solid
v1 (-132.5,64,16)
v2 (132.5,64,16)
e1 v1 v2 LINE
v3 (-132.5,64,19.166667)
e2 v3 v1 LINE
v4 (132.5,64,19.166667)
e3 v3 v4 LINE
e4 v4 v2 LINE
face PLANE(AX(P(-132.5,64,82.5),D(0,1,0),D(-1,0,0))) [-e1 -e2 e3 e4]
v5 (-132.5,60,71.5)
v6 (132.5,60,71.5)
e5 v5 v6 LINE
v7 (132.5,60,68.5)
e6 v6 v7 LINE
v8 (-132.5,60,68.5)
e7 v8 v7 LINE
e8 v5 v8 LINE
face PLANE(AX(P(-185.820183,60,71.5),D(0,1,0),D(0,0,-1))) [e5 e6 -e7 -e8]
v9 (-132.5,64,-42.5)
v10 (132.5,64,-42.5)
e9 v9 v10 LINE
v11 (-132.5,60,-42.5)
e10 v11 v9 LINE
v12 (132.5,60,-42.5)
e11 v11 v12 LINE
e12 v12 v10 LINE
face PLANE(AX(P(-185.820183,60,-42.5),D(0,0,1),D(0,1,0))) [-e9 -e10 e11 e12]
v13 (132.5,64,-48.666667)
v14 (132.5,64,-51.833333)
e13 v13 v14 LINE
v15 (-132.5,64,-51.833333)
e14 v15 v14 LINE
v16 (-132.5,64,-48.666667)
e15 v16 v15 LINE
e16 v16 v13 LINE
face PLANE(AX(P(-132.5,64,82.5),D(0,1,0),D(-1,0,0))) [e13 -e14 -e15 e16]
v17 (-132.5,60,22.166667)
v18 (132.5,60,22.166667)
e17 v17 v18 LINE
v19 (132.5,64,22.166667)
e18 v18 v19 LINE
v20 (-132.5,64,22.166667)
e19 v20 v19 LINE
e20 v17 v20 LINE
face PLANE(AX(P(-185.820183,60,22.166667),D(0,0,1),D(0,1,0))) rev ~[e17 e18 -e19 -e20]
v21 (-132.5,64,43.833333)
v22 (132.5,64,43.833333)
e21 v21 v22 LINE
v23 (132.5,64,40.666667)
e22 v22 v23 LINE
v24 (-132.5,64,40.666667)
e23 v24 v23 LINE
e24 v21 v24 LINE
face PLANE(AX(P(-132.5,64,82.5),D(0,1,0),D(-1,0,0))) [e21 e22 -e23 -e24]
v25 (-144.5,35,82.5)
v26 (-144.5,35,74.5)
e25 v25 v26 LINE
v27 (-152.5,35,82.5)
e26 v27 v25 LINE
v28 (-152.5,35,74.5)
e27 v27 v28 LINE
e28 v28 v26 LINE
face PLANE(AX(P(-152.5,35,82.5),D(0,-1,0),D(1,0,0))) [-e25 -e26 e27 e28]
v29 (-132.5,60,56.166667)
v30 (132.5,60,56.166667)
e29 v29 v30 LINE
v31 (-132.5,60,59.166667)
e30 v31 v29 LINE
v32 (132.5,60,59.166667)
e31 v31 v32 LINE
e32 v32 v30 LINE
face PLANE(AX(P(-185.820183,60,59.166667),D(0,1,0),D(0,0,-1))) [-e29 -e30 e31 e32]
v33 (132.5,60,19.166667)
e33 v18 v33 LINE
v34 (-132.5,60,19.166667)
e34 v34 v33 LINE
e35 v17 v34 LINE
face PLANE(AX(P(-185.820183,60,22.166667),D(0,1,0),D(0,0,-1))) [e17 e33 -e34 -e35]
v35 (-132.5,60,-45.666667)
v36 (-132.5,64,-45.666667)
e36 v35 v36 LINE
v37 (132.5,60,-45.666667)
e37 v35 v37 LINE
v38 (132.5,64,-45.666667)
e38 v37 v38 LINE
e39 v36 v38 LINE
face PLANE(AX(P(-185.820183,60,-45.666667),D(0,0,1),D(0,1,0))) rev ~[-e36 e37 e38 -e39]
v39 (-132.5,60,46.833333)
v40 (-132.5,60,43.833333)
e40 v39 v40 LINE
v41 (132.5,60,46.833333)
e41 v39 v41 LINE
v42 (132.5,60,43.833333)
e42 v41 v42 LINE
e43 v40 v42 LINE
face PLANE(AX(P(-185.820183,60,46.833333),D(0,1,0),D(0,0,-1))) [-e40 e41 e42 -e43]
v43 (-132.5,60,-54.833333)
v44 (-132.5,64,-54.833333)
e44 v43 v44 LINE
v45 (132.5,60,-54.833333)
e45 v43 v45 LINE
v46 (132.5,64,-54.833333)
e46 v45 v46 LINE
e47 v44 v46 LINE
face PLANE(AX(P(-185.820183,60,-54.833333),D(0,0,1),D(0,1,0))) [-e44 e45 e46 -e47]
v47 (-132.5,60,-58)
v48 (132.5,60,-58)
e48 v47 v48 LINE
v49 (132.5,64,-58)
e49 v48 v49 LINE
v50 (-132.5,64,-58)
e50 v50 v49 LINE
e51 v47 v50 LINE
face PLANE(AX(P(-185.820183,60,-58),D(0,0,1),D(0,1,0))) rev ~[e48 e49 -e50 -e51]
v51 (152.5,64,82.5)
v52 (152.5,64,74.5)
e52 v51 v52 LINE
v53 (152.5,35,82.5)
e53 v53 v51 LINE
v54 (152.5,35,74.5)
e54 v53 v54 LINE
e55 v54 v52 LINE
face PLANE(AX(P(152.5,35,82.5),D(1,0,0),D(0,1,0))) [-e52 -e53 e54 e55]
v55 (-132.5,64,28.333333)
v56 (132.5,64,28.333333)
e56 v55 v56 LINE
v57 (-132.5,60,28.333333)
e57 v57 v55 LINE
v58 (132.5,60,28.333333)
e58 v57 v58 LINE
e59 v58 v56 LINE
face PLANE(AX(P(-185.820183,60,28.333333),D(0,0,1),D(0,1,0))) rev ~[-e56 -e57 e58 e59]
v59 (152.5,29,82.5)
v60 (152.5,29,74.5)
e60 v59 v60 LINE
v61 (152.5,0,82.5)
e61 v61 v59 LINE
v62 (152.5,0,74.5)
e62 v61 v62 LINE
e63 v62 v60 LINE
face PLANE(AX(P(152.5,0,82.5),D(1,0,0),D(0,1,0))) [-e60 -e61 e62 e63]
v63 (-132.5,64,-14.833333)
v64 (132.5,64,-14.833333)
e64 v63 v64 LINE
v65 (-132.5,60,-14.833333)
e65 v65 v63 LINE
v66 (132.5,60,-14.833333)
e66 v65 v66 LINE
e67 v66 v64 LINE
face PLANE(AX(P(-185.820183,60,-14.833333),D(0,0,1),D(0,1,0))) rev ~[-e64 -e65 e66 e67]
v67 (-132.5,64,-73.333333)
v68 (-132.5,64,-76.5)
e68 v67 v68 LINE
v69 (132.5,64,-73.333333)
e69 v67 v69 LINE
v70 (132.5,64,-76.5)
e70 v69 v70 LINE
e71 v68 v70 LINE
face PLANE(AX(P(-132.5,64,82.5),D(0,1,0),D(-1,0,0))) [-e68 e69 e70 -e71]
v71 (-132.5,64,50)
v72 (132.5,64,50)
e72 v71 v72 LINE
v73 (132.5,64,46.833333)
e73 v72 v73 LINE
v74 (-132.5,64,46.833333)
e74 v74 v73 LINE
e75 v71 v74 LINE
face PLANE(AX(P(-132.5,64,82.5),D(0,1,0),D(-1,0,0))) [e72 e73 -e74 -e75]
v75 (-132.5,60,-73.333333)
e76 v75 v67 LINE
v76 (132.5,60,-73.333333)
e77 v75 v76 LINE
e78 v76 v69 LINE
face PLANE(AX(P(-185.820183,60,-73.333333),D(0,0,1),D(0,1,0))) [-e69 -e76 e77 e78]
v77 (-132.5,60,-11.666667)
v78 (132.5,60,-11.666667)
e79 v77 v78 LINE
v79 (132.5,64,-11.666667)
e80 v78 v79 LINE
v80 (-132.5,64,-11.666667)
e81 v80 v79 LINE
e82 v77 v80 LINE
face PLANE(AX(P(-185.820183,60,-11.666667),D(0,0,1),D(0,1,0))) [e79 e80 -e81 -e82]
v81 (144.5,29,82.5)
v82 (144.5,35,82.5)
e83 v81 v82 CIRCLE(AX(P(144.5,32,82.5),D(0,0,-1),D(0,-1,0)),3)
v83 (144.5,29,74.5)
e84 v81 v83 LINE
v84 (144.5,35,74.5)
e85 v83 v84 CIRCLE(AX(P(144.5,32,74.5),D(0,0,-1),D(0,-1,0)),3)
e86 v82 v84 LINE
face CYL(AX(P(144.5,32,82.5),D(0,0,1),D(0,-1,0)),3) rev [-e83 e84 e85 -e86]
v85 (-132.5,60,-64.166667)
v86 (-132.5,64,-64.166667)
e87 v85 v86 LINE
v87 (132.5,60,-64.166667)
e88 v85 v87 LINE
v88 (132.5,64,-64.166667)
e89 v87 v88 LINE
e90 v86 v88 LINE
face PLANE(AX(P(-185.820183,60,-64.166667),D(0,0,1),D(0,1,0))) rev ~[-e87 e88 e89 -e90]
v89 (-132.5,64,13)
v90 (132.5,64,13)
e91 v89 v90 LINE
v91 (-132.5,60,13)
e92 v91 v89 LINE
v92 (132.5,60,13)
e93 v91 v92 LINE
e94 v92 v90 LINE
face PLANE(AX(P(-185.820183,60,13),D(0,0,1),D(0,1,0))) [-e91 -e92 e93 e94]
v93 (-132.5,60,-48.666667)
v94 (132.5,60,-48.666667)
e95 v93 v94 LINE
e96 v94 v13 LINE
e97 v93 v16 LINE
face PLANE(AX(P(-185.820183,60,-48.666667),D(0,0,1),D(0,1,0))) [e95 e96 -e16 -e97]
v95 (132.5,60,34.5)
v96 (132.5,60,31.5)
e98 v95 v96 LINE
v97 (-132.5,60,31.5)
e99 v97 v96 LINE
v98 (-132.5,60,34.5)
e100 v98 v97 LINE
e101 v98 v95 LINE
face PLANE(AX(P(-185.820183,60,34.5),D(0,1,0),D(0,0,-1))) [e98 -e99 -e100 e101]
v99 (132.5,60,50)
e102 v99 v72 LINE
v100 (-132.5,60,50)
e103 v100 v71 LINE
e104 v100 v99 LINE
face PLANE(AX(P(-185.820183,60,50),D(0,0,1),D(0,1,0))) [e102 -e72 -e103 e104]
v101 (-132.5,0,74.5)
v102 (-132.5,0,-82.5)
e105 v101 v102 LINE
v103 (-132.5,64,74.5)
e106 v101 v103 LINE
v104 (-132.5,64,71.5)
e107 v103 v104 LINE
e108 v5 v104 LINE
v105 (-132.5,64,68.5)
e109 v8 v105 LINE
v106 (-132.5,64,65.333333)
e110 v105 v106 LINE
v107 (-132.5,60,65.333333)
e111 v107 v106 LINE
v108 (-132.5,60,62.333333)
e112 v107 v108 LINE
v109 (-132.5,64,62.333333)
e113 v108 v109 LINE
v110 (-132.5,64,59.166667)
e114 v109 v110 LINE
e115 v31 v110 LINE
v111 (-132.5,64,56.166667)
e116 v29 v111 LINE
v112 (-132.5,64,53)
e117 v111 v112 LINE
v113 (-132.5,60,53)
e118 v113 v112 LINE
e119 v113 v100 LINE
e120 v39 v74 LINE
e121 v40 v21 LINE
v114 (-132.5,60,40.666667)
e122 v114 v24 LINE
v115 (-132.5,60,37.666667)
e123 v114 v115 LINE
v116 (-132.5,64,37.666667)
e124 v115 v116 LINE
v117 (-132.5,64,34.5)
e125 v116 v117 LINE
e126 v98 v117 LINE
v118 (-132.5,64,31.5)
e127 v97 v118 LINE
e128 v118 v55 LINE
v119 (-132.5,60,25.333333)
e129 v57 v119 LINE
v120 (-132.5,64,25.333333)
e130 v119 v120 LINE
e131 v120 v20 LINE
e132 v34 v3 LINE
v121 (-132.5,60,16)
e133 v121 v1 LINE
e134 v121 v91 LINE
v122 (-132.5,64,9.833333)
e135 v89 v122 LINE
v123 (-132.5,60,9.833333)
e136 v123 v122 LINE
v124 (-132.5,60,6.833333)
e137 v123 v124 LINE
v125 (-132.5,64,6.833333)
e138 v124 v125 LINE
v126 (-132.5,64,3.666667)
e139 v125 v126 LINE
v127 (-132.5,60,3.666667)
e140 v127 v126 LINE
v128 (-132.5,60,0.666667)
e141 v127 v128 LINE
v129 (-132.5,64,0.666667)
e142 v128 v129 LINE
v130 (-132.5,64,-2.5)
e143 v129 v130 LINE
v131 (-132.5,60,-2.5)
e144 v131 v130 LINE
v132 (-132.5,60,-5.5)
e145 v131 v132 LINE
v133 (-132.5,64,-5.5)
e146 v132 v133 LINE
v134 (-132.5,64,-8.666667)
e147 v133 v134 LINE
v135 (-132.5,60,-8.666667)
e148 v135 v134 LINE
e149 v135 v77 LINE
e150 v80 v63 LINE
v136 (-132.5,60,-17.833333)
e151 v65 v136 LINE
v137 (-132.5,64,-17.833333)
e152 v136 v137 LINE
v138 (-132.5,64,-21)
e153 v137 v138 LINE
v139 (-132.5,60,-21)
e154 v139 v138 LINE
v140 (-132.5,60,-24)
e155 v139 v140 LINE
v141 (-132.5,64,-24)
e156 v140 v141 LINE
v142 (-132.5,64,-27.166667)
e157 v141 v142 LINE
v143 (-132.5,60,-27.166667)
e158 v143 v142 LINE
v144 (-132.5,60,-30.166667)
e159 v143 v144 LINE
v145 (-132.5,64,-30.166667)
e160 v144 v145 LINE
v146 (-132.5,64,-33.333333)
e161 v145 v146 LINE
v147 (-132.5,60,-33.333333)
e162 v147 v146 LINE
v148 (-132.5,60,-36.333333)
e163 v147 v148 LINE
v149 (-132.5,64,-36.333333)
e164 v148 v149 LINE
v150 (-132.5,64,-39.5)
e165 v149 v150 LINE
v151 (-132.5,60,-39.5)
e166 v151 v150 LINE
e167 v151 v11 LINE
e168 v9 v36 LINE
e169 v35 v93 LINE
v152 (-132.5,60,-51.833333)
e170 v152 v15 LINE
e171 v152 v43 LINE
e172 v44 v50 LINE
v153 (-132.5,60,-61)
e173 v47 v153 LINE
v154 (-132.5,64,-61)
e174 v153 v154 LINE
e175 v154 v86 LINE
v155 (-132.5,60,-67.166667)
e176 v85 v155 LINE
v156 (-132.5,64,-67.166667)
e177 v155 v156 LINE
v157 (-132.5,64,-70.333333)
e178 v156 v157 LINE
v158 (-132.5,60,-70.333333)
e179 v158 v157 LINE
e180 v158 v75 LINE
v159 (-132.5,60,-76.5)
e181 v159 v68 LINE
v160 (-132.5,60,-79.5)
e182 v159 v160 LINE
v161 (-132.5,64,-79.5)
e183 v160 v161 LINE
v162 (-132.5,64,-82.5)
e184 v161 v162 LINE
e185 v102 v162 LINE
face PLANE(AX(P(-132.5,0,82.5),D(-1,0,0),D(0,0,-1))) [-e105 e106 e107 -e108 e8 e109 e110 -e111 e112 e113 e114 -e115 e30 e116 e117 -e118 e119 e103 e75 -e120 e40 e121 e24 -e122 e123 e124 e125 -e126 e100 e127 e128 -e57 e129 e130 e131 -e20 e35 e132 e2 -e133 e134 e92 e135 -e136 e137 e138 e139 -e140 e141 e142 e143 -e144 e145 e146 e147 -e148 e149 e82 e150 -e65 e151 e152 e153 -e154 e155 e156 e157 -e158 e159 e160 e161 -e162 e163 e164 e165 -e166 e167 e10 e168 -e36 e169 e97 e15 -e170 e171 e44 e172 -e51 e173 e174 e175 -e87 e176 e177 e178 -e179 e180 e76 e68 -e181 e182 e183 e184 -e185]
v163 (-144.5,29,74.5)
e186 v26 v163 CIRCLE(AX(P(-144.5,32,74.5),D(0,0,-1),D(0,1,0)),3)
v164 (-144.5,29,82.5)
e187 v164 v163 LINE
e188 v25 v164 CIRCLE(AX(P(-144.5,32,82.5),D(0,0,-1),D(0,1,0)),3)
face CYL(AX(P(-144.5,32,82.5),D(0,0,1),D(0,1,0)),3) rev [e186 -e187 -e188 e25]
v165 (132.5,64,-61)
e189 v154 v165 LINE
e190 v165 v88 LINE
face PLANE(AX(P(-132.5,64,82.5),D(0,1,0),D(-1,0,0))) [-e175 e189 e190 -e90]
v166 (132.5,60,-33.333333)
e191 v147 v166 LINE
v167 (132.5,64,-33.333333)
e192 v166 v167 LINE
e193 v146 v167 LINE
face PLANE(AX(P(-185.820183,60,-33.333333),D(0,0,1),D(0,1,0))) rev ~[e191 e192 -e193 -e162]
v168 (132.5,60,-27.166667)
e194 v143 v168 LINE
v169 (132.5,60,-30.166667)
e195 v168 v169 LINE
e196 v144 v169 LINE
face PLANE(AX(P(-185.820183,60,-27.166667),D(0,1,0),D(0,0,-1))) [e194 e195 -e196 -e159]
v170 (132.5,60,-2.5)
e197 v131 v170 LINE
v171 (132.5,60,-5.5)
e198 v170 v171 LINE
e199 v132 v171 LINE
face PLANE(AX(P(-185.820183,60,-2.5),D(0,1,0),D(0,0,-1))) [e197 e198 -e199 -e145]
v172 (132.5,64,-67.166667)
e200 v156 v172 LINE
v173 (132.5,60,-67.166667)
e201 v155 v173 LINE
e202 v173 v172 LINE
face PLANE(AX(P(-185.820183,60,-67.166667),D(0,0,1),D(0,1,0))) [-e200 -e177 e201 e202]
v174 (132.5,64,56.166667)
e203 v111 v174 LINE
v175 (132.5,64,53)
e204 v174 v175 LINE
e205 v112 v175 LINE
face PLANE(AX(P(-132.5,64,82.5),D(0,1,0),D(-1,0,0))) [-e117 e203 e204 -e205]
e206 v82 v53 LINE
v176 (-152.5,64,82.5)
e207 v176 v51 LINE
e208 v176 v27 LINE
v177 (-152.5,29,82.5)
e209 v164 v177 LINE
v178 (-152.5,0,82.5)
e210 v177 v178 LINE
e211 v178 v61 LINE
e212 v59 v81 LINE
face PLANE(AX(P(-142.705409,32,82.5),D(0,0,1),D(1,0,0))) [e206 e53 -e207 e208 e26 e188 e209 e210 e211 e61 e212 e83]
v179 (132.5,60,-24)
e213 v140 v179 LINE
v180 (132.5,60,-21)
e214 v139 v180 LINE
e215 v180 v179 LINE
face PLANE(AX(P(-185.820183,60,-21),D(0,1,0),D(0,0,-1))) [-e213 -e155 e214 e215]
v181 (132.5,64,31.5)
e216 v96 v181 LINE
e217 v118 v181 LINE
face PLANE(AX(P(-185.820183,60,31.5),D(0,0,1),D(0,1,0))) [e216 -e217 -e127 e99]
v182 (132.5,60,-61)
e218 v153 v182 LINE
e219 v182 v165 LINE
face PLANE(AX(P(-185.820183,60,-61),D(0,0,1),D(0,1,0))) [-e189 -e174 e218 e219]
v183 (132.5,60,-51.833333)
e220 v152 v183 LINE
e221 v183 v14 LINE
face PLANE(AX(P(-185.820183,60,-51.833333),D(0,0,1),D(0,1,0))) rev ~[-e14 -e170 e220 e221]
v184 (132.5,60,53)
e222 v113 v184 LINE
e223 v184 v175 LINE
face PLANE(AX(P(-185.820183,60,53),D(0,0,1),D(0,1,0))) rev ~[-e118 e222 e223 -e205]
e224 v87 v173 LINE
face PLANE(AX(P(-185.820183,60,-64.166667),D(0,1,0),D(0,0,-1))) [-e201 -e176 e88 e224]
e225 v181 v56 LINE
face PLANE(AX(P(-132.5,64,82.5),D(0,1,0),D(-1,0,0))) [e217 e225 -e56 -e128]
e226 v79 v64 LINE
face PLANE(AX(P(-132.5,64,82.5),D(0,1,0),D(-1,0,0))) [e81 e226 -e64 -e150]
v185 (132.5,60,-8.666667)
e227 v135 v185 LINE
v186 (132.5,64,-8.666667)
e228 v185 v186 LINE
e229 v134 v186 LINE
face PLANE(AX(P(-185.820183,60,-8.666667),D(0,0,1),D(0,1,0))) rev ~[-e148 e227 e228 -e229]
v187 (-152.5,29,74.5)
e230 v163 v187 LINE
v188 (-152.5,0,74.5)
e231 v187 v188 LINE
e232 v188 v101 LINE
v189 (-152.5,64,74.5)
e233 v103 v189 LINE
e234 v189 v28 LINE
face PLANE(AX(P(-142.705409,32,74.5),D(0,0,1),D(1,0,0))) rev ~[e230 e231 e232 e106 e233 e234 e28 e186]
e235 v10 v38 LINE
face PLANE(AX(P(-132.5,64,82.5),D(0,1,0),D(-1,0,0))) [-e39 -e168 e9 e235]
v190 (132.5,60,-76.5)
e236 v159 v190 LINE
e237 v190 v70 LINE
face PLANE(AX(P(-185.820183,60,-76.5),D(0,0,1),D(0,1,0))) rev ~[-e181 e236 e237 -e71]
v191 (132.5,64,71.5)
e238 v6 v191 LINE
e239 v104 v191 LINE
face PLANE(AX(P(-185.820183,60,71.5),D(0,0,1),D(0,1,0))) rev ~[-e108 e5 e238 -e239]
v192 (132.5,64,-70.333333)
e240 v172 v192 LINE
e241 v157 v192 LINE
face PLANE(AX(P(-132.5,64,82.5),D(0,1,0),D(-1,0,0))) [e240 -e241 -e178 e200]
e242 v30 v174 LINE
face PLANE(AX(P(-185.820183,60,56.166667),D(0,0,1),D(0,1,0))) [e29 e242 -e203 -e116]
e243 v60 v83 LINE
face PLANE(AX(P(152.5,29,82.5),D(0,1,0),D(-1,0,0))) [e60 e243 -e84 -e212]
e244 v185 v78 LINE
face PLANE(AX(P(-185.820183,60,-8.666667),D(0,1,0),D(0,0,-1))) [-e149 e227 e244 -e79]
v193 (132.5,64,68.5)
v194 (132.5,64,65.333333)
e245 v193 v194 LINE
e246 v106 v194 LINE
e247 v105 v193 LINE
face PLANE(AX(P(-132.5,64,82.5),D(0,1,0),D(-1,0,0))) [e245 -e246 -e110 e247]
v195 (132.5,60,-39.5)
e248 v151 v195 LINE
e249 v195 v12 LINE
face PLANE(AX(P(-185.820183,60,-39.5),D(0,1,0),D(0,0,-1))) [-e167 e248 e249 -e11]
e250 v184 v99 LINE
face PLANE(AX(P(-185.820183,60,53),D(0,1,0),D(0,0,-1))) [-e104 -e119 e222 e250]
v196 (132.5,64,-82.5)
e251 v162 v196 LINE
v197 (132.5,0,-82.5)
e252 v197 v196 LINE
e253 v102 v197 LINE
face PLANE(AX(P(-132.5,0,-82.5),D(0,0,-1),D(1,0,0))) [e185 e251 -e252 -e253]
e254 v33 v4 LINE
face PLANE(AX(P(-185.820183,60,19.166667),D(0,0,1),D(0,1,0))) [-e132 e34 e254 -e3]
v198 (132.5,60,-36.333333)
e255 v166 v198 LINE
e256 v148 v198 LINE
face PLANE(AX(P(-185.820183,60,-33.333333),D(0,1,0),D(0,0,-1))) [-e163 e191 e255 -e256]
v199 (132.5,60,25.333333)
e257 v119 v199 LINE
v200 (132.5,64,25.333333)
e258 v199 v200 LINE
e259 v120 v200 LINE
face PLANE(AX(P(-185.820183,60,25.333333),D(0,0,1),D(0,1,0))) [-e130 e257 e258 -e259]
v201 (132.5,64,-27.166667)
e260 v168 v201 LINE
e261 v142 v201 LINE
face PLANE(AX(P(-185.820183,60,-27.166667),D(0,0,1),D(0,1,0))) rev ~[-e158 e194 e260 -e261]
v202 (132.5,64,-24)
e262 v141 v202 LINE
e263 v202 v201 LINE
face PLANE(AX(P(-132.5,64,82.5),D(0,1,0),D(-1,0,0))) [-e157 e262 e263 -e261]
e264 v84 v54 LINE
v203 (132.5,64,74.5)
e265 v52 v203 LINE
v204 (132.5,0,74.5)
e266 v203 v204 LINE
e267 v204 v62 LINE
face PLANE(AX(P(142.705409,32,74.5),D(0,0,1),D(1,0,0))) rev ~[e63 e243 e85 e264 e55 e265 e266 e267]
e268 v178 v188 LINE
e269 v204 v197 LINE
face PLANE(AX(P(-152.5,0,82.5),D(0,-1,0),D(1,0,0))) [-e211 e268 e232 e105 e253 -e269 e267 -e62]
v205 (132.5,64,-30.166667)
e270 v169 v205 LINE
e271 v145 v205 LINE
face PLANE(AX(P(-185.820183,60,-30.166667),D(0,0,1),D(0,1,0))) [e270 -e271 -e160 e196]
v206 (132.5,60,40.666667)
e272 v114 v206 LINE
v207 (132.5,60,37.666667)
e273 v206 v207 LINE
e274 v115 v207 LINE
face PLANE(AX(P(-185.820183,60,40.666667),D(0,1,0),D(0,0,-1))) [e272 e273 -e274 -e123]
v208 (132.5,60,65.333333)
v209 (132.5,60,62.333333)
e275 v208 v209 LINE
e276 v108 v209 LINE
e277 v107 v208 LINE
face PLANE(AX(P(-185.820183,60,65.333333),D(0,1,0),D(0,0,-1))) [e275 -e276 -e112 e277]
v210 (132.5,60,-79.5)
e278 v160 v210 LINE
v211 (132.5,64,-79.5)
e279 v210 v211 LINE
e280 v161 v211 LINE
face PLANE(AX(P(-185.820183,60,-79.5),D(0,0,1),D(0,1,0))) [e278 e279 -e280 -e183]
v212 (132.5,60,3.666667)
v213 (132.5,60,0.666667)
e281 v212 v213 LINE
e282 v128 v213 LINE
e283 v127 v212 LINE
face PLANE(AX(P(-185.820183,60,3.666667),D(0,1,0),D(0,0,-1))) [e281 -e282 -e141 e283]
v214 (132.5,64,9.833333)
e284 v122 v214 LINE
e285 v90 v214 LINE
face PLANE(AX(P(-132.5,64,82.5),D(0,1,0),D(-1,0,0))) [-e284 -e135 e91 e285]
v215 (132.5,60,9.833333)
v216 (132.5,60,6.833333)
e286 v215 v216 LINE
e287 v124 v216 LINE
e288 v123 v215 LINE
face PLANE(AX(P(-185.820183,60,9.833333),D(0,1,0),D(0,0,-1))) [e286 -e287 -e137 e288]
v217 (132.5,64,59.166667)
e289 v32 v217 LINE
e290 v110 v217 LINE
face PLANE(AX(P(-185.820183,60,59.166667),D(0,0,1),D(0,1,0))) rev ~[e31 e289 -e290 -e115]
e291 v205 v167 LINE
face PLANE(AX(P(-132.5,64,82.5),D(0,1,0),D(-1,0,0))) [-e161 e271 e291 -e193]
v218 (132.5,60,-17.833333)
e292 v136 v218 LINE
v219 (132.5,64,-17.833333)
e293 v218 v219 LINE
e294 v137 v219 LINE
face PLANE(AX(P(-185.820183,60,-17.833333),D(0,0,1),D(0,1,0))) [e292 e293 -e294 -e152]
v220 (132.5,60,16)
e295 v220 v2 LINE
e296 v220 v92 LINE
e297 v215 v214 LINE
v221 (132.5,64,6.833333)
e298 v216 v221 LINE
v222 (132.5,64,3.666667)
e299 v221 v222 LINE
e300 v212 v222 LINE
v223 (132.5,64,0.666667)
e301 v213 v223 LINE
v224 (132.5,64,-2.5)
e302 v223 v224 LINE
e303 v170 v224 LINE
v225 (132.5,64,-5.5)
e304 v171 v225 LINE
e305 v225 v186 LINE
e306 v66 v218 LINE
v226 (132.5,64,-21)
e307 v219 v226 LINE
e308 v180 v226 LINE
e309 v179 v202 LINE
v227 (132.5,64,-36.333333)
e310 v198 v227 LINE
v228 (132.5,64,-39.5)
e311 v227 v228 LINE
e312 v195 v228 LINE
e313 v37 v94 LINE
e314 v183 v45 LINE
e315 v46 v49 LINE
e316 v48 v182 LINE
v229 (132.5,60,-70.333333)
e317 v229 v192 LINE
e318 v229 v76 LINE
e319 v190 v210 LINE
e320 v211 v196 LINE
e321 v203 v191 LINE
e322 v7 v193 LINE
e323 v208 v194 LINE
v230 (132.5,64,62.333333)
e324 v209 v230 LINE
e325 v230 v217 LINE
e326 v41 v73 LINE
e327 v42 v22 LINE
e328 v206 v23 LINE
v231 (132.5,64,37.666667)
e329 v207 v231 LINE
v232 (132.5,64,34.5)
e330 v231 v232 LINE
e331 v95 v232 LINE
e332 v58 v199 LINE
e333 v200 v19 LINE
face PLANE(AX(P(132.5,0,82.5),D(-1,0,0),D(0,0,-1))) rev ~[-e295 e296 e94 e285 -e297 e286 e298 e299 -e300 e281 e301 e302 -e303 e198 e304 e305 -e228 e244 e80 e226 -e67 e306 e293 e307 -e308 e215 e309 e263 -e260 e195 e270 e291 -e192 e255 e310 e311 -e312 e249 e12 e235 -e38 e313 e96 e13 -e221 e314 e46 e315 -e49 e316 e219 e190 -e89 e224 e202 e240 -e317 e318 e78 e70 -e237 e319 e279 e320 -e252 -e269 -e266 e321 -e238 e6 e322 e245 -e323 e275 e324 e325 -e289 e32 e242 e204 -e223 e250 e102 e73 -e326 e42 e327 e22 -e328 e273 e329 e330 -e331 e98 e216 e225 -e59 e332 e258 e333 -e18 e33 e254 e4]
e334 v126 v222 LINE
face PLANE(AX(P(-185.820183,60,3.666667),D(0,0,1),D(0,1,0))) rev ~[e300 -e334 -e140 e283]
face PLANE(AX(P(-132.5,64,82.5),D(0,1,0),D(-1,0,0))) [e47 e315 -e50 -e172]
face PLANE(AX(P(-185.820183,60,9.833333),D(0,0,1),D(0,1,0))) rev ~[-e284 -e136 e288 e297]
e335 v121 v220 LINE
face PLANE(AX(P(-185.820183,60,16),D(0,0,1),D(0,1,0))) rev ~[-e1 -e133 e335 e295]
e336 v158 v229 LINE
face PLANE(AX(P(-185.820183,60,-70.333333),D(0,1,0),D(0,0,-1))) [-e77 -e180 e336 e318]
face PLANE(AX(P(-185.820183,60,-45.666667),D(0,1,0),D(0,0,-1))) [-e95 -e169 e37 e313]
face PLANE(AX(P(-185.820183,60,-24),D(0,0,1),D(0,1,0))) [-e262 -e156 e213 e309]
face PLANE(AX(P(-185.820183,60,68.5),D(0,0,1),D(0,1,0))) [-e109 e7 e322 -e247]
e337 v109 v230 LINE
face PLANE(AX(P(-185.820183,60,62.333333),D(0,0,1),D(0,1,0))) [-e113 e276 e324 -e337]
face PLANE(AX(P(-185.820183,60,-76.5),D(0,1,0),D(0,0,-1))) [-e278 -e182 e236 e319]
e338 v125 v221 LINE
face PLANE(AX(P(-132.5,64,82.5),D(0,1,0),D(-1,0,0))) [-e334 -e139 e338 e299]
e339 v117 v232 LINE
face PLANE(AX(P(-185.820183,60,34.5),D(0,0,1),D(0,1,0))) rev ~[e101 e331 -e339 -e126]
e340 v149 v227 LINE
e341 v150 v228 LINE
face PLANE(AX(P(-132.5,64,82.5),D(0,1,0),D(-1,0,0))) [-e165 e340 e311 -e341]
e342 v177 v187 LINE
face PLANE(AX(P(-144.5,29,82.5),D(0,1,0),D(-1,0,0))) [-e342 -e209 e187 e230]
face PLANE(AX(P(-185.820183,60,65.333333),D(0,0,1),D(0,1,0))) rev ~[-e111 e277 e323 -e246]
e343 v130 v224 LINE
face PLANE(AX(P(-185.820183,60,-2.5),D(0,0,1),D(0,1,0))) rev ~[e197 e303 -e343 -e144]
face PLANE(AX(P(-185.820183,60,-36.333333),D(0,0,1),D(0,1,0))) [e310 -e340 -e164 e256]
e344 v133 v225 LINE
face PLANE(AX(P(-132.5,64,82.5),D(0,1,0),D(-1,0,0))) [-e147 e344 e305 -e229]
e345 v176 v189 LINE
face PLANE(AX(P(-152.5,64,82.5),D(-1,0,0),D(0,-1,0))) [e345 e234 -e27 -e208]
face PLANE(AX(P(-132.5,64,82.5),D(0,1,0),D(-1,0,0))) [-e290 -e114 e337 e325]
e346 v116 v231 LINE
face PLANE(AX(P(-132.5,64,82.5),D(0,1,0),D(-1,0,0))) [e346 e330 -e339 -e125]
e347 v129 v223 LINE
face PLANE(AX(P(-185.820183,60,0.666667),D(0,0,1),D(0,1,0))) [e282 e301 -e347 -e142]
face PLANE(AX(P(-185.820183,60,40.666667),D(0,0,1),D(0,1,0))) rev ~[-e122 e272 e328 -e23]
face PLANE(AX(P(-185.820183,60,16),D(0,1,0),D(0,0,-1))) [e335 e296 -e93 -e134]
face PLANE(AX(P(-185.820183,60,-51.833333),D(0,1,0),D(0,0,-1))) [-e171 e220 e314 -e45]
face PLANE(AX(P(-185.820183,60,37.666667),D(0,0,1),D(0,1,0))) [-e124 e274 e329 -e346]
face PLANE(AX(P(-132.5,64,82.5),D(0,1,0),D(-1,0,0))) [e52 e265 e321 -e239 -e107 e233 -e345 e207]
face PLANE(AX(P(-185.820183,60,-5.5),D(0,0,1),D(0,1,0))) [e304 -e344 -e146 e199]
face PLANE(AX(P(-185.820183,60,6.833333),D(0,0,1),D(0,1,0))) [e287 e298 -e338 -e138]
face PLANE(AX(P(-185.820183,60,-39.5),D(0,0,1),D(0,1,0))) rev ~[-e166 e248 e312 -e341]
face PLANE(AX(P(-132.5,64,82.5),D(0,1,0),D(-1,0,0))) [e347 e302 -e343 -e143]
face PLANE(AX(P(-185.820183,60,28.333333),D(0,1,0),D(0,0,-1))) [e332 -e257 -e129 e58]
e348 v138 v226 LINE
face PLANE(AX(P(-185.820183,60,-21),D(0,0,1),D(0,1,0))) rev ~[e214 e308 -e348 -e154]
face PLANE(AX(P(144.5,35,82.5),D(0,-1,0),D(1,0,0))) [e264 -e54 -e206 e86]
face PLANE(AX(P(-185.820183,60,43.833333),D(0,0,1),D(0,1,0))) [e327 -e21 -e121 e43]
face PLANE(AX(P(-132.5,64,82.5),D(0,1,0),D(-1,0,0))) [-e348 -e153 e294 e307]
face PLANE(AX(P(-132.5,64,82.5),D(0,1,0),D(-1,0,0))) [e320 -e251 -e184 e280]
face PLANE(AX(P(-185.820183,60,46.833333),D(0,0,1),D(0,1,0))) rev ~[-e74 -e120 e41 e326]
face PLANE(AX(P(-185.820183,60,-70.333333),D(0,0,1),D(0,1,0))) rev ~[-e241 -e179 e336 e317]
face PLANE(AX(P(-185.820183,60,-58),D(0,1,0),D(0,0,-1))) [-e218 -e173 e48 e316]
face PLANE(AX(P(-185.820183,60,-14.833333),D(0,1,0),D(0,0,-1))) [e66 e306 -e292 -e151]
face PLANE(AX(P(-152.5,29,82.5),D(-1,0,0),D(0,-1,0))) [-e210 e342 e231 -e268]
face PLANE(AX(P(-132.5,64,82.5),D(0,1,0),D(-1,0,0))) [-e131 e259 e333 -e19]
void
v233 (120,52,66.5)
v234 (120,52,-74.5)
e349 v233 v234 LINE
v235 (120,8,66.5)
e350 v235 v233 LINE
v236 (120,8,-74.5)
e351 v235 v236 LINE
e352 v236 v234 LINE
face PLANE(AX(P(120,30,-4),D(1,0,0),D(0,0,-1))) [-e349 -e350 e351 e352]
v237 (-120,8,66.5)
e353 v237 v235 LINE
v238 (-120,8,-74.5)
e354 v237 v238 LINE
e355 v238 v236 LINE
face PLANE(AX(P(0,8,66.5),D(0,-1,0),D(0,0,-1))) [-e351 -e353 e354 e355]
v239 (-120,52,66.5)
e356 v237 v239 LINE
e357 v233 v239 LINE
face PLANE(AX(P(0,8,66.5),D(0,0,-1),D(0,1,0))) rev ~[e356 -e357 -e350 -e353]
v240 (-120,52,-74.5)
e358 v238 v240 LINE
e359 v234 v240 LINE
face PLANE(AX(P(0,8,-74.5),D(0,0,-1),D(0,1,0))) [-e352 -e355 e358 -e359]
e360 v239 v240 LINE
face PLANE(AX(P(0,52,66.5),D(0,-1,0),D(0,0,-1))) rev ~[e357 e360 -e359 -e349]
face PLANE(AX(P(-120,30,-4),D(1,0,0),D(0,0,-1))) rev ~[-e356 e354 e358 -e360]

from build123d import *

# Parameters (mm, degrees)
SKETCH_1_W               = 265
SKETCH_1_H               = 165
EXTRUDE_1_DEPTH          = 64
EXTRUDE_2_DEPTH          = 8
CUT_EXTRUDE_1_DEPTH      = 185.820182881
CUT_EXTRUDE_1_DEPTH_BACK = 185.820182881
SKETCH_3_W               = 3
SKETCH_3_H               = 4
SKETCH_4_W               = 141
SKETCH_4_H               = 44
CUT_EXTRUDE_2_DEPTH      = 120


with BuildPart() as part:
    # 草图1 → 凸台-拉伸1 (new body)
    with BuildSketch(Plane(origin=(0, 0, 0), x_dir=(1, 0, 0), z_dir=(0, 1, 0))):
        Rectangle(SKETCH_1_W, SKETCH_1_H)
    extrude(amount=EXTRUDE_1_DEPTH)

    # 草图2 → 凸台-拉伸2 (add)
    with BuildSketch(Plane.XY.offset(82.5)):
        with BuildLine():
            Line((-132.5, 64), (-152.5, 64))
            Line((-152.5, 64), (-152.5, 35))
            Line((-152.5, 35), (-144.5, 35))
            ThreePointArc((-144.5, 35), (-141.5, 32), (-144.5, 29))
            Line((-144.5, 29), (-152.5, 29))
            Line((-152.5, 29), (-152.5, 0))
            Line((-152.5, 0), (-132.5, 0))
            Line((-132.5, 0), (-132.5, 64))
        make_face()
        with BuildLine():
            Line((152.5, 64), (132.5, 64))
            Line((132.5, 64), (132.5, 0))
            Line((132.5, 0), (152.5, 0))
            Line((152.5, 0), (152.5, 29))
            Line((152.5, 29), (144.5, 29))
            ThreePointArc((144.5, 29), (141.5, 32), (144.5, 35))
            Line((144.5, 35), (152.5, 35))
            Line((152.5, 35), (152.5, 64))
        make_face()
    extrude(amount=-EXTRUDE_2_DEPTH)

    # 草图3 → 切除-拉伸1 (cut, two sides: drawn at the far end of the back side and taken through both)
    with BuildSketch(Plane(origin=(0, 0, 0), x_dir=(0, 0, -1), z_dir=(1, 0, 0)).offset(-CUT_EXTRUDE_1_DEPTH_BACK)):
        with Locations((-70, 62)):
            Rectangle(SKETCH_3_W, SKETCH_3_H)
        with Locations((-63.833333333, 62)):
            Rectangle(SKETCH_3_W, SKETCH_3_H)
        with Locations((-57.666666667, 62)):
            Rectangle(SKETCH_3_W, SKETCH_3_H)
        with Locations((-51.5, 62)):
            Rectangle(SKETCH_3_W, SKETCH_3_H)
        with Locations((-45.333333333, 62)):
            Rectangle(SKETCH_3_W, SKETCH_3_H)
        with Locations((-39.166666667, 62)):
            Rectangle(SKETCH_3_W, SKETCH_3_H)
        with Locations((-33, 62)):
            Rectangle(SKETCH_3_W, SKETCH_3_H)
        with Locations((-26.833333333, 62)):
            Rectangle(SKETCH_3_W, SKETCH_3_H)
        with Locations((-20.666666667, 62)):
            Rectangle(SKETCH_3_W, SKETCH_3_H)
        with Locations((-14.5, 62)):
            Rectangle(SKETCH_3_W, SKETCH_3_H)
        with Locations((-8.333333333, 62)):
            Rectangle(SKETCH_3_W, SKETCH_3_H)
        with Locations((-2.166666667, 62)):
            Rectangle(SKETCH_3_W, SKETCH_3_H)
        with Locations((4, 62)):
            Rectangle(SKETCH_3_W, SKETCH_3_H)
        with Locations((10.166666667, 62)):
            Rectangle(SKETCH_3_W, SKETCH_3_H)
        with Locations((16.333333333, 62)):
            Rectangle(SKETCH_3_W, SKETCH_3_H)
        with Locations((22.5, 62)):
            Rectangle(SKETCH_3_W, SKETCH_3_H)
        with Locations((28.666666667, 62)):
            Rectangle(SKETCH_3_W, SKETCH_3_H)
        with Locations((34.833333333, 62)):
            Rectangle(SKETCH_3_W, SKETCH_3_H)
        with Locations((41, 62)):
            Rectangle(SKETCH_3_W, SKETCH_3_H)
        with Locations((47.166666667, 62)):
            Rectangle(SKETCH_3_W, SKETCH_3_H)
        with Locations((53.333333333, 62)):
            Rectangle(SKETCH_3_W, SKETCH_3_H)
        with Locations((59.5, 62)):
            Rectangle(SKETCH_3_W, SKETCH_3_H)
        with Locations((65.666666667, 62)):
            Rectangle(SKETCH_3_W, SKETCH_3_H)
        with Locations((71.833333333, 62)):
            Rectangle(SKETCH_3_W, SKETCH_3_H)
        with Locations((78, 62)):
            Rectangle(SKETCH_3_W, SKETCH_3_H)
    extrude(amount=CUT_EXTRUDE_1_DEPTH + CUT_EXTRUDE_1_DEPTH_BACK, mode=Mode.SUBTRACT)

    # 草图4 → 切除-拉伸2 (cut, symmetric)
    with BuildSketch(Plane(origin=(0, 0, 0), x_dir=(0, 0, -1), z_dir=(1, 0, 0))):
        with Locations((4, 30)):
            Rectangle(SKETCH_4_W, SKETCH_4_H)
    extrude(amount=CUT_EXTRUDE_2_DEPTH, both=True, mode=Mode.SUBTRACT)


solid = part.part
